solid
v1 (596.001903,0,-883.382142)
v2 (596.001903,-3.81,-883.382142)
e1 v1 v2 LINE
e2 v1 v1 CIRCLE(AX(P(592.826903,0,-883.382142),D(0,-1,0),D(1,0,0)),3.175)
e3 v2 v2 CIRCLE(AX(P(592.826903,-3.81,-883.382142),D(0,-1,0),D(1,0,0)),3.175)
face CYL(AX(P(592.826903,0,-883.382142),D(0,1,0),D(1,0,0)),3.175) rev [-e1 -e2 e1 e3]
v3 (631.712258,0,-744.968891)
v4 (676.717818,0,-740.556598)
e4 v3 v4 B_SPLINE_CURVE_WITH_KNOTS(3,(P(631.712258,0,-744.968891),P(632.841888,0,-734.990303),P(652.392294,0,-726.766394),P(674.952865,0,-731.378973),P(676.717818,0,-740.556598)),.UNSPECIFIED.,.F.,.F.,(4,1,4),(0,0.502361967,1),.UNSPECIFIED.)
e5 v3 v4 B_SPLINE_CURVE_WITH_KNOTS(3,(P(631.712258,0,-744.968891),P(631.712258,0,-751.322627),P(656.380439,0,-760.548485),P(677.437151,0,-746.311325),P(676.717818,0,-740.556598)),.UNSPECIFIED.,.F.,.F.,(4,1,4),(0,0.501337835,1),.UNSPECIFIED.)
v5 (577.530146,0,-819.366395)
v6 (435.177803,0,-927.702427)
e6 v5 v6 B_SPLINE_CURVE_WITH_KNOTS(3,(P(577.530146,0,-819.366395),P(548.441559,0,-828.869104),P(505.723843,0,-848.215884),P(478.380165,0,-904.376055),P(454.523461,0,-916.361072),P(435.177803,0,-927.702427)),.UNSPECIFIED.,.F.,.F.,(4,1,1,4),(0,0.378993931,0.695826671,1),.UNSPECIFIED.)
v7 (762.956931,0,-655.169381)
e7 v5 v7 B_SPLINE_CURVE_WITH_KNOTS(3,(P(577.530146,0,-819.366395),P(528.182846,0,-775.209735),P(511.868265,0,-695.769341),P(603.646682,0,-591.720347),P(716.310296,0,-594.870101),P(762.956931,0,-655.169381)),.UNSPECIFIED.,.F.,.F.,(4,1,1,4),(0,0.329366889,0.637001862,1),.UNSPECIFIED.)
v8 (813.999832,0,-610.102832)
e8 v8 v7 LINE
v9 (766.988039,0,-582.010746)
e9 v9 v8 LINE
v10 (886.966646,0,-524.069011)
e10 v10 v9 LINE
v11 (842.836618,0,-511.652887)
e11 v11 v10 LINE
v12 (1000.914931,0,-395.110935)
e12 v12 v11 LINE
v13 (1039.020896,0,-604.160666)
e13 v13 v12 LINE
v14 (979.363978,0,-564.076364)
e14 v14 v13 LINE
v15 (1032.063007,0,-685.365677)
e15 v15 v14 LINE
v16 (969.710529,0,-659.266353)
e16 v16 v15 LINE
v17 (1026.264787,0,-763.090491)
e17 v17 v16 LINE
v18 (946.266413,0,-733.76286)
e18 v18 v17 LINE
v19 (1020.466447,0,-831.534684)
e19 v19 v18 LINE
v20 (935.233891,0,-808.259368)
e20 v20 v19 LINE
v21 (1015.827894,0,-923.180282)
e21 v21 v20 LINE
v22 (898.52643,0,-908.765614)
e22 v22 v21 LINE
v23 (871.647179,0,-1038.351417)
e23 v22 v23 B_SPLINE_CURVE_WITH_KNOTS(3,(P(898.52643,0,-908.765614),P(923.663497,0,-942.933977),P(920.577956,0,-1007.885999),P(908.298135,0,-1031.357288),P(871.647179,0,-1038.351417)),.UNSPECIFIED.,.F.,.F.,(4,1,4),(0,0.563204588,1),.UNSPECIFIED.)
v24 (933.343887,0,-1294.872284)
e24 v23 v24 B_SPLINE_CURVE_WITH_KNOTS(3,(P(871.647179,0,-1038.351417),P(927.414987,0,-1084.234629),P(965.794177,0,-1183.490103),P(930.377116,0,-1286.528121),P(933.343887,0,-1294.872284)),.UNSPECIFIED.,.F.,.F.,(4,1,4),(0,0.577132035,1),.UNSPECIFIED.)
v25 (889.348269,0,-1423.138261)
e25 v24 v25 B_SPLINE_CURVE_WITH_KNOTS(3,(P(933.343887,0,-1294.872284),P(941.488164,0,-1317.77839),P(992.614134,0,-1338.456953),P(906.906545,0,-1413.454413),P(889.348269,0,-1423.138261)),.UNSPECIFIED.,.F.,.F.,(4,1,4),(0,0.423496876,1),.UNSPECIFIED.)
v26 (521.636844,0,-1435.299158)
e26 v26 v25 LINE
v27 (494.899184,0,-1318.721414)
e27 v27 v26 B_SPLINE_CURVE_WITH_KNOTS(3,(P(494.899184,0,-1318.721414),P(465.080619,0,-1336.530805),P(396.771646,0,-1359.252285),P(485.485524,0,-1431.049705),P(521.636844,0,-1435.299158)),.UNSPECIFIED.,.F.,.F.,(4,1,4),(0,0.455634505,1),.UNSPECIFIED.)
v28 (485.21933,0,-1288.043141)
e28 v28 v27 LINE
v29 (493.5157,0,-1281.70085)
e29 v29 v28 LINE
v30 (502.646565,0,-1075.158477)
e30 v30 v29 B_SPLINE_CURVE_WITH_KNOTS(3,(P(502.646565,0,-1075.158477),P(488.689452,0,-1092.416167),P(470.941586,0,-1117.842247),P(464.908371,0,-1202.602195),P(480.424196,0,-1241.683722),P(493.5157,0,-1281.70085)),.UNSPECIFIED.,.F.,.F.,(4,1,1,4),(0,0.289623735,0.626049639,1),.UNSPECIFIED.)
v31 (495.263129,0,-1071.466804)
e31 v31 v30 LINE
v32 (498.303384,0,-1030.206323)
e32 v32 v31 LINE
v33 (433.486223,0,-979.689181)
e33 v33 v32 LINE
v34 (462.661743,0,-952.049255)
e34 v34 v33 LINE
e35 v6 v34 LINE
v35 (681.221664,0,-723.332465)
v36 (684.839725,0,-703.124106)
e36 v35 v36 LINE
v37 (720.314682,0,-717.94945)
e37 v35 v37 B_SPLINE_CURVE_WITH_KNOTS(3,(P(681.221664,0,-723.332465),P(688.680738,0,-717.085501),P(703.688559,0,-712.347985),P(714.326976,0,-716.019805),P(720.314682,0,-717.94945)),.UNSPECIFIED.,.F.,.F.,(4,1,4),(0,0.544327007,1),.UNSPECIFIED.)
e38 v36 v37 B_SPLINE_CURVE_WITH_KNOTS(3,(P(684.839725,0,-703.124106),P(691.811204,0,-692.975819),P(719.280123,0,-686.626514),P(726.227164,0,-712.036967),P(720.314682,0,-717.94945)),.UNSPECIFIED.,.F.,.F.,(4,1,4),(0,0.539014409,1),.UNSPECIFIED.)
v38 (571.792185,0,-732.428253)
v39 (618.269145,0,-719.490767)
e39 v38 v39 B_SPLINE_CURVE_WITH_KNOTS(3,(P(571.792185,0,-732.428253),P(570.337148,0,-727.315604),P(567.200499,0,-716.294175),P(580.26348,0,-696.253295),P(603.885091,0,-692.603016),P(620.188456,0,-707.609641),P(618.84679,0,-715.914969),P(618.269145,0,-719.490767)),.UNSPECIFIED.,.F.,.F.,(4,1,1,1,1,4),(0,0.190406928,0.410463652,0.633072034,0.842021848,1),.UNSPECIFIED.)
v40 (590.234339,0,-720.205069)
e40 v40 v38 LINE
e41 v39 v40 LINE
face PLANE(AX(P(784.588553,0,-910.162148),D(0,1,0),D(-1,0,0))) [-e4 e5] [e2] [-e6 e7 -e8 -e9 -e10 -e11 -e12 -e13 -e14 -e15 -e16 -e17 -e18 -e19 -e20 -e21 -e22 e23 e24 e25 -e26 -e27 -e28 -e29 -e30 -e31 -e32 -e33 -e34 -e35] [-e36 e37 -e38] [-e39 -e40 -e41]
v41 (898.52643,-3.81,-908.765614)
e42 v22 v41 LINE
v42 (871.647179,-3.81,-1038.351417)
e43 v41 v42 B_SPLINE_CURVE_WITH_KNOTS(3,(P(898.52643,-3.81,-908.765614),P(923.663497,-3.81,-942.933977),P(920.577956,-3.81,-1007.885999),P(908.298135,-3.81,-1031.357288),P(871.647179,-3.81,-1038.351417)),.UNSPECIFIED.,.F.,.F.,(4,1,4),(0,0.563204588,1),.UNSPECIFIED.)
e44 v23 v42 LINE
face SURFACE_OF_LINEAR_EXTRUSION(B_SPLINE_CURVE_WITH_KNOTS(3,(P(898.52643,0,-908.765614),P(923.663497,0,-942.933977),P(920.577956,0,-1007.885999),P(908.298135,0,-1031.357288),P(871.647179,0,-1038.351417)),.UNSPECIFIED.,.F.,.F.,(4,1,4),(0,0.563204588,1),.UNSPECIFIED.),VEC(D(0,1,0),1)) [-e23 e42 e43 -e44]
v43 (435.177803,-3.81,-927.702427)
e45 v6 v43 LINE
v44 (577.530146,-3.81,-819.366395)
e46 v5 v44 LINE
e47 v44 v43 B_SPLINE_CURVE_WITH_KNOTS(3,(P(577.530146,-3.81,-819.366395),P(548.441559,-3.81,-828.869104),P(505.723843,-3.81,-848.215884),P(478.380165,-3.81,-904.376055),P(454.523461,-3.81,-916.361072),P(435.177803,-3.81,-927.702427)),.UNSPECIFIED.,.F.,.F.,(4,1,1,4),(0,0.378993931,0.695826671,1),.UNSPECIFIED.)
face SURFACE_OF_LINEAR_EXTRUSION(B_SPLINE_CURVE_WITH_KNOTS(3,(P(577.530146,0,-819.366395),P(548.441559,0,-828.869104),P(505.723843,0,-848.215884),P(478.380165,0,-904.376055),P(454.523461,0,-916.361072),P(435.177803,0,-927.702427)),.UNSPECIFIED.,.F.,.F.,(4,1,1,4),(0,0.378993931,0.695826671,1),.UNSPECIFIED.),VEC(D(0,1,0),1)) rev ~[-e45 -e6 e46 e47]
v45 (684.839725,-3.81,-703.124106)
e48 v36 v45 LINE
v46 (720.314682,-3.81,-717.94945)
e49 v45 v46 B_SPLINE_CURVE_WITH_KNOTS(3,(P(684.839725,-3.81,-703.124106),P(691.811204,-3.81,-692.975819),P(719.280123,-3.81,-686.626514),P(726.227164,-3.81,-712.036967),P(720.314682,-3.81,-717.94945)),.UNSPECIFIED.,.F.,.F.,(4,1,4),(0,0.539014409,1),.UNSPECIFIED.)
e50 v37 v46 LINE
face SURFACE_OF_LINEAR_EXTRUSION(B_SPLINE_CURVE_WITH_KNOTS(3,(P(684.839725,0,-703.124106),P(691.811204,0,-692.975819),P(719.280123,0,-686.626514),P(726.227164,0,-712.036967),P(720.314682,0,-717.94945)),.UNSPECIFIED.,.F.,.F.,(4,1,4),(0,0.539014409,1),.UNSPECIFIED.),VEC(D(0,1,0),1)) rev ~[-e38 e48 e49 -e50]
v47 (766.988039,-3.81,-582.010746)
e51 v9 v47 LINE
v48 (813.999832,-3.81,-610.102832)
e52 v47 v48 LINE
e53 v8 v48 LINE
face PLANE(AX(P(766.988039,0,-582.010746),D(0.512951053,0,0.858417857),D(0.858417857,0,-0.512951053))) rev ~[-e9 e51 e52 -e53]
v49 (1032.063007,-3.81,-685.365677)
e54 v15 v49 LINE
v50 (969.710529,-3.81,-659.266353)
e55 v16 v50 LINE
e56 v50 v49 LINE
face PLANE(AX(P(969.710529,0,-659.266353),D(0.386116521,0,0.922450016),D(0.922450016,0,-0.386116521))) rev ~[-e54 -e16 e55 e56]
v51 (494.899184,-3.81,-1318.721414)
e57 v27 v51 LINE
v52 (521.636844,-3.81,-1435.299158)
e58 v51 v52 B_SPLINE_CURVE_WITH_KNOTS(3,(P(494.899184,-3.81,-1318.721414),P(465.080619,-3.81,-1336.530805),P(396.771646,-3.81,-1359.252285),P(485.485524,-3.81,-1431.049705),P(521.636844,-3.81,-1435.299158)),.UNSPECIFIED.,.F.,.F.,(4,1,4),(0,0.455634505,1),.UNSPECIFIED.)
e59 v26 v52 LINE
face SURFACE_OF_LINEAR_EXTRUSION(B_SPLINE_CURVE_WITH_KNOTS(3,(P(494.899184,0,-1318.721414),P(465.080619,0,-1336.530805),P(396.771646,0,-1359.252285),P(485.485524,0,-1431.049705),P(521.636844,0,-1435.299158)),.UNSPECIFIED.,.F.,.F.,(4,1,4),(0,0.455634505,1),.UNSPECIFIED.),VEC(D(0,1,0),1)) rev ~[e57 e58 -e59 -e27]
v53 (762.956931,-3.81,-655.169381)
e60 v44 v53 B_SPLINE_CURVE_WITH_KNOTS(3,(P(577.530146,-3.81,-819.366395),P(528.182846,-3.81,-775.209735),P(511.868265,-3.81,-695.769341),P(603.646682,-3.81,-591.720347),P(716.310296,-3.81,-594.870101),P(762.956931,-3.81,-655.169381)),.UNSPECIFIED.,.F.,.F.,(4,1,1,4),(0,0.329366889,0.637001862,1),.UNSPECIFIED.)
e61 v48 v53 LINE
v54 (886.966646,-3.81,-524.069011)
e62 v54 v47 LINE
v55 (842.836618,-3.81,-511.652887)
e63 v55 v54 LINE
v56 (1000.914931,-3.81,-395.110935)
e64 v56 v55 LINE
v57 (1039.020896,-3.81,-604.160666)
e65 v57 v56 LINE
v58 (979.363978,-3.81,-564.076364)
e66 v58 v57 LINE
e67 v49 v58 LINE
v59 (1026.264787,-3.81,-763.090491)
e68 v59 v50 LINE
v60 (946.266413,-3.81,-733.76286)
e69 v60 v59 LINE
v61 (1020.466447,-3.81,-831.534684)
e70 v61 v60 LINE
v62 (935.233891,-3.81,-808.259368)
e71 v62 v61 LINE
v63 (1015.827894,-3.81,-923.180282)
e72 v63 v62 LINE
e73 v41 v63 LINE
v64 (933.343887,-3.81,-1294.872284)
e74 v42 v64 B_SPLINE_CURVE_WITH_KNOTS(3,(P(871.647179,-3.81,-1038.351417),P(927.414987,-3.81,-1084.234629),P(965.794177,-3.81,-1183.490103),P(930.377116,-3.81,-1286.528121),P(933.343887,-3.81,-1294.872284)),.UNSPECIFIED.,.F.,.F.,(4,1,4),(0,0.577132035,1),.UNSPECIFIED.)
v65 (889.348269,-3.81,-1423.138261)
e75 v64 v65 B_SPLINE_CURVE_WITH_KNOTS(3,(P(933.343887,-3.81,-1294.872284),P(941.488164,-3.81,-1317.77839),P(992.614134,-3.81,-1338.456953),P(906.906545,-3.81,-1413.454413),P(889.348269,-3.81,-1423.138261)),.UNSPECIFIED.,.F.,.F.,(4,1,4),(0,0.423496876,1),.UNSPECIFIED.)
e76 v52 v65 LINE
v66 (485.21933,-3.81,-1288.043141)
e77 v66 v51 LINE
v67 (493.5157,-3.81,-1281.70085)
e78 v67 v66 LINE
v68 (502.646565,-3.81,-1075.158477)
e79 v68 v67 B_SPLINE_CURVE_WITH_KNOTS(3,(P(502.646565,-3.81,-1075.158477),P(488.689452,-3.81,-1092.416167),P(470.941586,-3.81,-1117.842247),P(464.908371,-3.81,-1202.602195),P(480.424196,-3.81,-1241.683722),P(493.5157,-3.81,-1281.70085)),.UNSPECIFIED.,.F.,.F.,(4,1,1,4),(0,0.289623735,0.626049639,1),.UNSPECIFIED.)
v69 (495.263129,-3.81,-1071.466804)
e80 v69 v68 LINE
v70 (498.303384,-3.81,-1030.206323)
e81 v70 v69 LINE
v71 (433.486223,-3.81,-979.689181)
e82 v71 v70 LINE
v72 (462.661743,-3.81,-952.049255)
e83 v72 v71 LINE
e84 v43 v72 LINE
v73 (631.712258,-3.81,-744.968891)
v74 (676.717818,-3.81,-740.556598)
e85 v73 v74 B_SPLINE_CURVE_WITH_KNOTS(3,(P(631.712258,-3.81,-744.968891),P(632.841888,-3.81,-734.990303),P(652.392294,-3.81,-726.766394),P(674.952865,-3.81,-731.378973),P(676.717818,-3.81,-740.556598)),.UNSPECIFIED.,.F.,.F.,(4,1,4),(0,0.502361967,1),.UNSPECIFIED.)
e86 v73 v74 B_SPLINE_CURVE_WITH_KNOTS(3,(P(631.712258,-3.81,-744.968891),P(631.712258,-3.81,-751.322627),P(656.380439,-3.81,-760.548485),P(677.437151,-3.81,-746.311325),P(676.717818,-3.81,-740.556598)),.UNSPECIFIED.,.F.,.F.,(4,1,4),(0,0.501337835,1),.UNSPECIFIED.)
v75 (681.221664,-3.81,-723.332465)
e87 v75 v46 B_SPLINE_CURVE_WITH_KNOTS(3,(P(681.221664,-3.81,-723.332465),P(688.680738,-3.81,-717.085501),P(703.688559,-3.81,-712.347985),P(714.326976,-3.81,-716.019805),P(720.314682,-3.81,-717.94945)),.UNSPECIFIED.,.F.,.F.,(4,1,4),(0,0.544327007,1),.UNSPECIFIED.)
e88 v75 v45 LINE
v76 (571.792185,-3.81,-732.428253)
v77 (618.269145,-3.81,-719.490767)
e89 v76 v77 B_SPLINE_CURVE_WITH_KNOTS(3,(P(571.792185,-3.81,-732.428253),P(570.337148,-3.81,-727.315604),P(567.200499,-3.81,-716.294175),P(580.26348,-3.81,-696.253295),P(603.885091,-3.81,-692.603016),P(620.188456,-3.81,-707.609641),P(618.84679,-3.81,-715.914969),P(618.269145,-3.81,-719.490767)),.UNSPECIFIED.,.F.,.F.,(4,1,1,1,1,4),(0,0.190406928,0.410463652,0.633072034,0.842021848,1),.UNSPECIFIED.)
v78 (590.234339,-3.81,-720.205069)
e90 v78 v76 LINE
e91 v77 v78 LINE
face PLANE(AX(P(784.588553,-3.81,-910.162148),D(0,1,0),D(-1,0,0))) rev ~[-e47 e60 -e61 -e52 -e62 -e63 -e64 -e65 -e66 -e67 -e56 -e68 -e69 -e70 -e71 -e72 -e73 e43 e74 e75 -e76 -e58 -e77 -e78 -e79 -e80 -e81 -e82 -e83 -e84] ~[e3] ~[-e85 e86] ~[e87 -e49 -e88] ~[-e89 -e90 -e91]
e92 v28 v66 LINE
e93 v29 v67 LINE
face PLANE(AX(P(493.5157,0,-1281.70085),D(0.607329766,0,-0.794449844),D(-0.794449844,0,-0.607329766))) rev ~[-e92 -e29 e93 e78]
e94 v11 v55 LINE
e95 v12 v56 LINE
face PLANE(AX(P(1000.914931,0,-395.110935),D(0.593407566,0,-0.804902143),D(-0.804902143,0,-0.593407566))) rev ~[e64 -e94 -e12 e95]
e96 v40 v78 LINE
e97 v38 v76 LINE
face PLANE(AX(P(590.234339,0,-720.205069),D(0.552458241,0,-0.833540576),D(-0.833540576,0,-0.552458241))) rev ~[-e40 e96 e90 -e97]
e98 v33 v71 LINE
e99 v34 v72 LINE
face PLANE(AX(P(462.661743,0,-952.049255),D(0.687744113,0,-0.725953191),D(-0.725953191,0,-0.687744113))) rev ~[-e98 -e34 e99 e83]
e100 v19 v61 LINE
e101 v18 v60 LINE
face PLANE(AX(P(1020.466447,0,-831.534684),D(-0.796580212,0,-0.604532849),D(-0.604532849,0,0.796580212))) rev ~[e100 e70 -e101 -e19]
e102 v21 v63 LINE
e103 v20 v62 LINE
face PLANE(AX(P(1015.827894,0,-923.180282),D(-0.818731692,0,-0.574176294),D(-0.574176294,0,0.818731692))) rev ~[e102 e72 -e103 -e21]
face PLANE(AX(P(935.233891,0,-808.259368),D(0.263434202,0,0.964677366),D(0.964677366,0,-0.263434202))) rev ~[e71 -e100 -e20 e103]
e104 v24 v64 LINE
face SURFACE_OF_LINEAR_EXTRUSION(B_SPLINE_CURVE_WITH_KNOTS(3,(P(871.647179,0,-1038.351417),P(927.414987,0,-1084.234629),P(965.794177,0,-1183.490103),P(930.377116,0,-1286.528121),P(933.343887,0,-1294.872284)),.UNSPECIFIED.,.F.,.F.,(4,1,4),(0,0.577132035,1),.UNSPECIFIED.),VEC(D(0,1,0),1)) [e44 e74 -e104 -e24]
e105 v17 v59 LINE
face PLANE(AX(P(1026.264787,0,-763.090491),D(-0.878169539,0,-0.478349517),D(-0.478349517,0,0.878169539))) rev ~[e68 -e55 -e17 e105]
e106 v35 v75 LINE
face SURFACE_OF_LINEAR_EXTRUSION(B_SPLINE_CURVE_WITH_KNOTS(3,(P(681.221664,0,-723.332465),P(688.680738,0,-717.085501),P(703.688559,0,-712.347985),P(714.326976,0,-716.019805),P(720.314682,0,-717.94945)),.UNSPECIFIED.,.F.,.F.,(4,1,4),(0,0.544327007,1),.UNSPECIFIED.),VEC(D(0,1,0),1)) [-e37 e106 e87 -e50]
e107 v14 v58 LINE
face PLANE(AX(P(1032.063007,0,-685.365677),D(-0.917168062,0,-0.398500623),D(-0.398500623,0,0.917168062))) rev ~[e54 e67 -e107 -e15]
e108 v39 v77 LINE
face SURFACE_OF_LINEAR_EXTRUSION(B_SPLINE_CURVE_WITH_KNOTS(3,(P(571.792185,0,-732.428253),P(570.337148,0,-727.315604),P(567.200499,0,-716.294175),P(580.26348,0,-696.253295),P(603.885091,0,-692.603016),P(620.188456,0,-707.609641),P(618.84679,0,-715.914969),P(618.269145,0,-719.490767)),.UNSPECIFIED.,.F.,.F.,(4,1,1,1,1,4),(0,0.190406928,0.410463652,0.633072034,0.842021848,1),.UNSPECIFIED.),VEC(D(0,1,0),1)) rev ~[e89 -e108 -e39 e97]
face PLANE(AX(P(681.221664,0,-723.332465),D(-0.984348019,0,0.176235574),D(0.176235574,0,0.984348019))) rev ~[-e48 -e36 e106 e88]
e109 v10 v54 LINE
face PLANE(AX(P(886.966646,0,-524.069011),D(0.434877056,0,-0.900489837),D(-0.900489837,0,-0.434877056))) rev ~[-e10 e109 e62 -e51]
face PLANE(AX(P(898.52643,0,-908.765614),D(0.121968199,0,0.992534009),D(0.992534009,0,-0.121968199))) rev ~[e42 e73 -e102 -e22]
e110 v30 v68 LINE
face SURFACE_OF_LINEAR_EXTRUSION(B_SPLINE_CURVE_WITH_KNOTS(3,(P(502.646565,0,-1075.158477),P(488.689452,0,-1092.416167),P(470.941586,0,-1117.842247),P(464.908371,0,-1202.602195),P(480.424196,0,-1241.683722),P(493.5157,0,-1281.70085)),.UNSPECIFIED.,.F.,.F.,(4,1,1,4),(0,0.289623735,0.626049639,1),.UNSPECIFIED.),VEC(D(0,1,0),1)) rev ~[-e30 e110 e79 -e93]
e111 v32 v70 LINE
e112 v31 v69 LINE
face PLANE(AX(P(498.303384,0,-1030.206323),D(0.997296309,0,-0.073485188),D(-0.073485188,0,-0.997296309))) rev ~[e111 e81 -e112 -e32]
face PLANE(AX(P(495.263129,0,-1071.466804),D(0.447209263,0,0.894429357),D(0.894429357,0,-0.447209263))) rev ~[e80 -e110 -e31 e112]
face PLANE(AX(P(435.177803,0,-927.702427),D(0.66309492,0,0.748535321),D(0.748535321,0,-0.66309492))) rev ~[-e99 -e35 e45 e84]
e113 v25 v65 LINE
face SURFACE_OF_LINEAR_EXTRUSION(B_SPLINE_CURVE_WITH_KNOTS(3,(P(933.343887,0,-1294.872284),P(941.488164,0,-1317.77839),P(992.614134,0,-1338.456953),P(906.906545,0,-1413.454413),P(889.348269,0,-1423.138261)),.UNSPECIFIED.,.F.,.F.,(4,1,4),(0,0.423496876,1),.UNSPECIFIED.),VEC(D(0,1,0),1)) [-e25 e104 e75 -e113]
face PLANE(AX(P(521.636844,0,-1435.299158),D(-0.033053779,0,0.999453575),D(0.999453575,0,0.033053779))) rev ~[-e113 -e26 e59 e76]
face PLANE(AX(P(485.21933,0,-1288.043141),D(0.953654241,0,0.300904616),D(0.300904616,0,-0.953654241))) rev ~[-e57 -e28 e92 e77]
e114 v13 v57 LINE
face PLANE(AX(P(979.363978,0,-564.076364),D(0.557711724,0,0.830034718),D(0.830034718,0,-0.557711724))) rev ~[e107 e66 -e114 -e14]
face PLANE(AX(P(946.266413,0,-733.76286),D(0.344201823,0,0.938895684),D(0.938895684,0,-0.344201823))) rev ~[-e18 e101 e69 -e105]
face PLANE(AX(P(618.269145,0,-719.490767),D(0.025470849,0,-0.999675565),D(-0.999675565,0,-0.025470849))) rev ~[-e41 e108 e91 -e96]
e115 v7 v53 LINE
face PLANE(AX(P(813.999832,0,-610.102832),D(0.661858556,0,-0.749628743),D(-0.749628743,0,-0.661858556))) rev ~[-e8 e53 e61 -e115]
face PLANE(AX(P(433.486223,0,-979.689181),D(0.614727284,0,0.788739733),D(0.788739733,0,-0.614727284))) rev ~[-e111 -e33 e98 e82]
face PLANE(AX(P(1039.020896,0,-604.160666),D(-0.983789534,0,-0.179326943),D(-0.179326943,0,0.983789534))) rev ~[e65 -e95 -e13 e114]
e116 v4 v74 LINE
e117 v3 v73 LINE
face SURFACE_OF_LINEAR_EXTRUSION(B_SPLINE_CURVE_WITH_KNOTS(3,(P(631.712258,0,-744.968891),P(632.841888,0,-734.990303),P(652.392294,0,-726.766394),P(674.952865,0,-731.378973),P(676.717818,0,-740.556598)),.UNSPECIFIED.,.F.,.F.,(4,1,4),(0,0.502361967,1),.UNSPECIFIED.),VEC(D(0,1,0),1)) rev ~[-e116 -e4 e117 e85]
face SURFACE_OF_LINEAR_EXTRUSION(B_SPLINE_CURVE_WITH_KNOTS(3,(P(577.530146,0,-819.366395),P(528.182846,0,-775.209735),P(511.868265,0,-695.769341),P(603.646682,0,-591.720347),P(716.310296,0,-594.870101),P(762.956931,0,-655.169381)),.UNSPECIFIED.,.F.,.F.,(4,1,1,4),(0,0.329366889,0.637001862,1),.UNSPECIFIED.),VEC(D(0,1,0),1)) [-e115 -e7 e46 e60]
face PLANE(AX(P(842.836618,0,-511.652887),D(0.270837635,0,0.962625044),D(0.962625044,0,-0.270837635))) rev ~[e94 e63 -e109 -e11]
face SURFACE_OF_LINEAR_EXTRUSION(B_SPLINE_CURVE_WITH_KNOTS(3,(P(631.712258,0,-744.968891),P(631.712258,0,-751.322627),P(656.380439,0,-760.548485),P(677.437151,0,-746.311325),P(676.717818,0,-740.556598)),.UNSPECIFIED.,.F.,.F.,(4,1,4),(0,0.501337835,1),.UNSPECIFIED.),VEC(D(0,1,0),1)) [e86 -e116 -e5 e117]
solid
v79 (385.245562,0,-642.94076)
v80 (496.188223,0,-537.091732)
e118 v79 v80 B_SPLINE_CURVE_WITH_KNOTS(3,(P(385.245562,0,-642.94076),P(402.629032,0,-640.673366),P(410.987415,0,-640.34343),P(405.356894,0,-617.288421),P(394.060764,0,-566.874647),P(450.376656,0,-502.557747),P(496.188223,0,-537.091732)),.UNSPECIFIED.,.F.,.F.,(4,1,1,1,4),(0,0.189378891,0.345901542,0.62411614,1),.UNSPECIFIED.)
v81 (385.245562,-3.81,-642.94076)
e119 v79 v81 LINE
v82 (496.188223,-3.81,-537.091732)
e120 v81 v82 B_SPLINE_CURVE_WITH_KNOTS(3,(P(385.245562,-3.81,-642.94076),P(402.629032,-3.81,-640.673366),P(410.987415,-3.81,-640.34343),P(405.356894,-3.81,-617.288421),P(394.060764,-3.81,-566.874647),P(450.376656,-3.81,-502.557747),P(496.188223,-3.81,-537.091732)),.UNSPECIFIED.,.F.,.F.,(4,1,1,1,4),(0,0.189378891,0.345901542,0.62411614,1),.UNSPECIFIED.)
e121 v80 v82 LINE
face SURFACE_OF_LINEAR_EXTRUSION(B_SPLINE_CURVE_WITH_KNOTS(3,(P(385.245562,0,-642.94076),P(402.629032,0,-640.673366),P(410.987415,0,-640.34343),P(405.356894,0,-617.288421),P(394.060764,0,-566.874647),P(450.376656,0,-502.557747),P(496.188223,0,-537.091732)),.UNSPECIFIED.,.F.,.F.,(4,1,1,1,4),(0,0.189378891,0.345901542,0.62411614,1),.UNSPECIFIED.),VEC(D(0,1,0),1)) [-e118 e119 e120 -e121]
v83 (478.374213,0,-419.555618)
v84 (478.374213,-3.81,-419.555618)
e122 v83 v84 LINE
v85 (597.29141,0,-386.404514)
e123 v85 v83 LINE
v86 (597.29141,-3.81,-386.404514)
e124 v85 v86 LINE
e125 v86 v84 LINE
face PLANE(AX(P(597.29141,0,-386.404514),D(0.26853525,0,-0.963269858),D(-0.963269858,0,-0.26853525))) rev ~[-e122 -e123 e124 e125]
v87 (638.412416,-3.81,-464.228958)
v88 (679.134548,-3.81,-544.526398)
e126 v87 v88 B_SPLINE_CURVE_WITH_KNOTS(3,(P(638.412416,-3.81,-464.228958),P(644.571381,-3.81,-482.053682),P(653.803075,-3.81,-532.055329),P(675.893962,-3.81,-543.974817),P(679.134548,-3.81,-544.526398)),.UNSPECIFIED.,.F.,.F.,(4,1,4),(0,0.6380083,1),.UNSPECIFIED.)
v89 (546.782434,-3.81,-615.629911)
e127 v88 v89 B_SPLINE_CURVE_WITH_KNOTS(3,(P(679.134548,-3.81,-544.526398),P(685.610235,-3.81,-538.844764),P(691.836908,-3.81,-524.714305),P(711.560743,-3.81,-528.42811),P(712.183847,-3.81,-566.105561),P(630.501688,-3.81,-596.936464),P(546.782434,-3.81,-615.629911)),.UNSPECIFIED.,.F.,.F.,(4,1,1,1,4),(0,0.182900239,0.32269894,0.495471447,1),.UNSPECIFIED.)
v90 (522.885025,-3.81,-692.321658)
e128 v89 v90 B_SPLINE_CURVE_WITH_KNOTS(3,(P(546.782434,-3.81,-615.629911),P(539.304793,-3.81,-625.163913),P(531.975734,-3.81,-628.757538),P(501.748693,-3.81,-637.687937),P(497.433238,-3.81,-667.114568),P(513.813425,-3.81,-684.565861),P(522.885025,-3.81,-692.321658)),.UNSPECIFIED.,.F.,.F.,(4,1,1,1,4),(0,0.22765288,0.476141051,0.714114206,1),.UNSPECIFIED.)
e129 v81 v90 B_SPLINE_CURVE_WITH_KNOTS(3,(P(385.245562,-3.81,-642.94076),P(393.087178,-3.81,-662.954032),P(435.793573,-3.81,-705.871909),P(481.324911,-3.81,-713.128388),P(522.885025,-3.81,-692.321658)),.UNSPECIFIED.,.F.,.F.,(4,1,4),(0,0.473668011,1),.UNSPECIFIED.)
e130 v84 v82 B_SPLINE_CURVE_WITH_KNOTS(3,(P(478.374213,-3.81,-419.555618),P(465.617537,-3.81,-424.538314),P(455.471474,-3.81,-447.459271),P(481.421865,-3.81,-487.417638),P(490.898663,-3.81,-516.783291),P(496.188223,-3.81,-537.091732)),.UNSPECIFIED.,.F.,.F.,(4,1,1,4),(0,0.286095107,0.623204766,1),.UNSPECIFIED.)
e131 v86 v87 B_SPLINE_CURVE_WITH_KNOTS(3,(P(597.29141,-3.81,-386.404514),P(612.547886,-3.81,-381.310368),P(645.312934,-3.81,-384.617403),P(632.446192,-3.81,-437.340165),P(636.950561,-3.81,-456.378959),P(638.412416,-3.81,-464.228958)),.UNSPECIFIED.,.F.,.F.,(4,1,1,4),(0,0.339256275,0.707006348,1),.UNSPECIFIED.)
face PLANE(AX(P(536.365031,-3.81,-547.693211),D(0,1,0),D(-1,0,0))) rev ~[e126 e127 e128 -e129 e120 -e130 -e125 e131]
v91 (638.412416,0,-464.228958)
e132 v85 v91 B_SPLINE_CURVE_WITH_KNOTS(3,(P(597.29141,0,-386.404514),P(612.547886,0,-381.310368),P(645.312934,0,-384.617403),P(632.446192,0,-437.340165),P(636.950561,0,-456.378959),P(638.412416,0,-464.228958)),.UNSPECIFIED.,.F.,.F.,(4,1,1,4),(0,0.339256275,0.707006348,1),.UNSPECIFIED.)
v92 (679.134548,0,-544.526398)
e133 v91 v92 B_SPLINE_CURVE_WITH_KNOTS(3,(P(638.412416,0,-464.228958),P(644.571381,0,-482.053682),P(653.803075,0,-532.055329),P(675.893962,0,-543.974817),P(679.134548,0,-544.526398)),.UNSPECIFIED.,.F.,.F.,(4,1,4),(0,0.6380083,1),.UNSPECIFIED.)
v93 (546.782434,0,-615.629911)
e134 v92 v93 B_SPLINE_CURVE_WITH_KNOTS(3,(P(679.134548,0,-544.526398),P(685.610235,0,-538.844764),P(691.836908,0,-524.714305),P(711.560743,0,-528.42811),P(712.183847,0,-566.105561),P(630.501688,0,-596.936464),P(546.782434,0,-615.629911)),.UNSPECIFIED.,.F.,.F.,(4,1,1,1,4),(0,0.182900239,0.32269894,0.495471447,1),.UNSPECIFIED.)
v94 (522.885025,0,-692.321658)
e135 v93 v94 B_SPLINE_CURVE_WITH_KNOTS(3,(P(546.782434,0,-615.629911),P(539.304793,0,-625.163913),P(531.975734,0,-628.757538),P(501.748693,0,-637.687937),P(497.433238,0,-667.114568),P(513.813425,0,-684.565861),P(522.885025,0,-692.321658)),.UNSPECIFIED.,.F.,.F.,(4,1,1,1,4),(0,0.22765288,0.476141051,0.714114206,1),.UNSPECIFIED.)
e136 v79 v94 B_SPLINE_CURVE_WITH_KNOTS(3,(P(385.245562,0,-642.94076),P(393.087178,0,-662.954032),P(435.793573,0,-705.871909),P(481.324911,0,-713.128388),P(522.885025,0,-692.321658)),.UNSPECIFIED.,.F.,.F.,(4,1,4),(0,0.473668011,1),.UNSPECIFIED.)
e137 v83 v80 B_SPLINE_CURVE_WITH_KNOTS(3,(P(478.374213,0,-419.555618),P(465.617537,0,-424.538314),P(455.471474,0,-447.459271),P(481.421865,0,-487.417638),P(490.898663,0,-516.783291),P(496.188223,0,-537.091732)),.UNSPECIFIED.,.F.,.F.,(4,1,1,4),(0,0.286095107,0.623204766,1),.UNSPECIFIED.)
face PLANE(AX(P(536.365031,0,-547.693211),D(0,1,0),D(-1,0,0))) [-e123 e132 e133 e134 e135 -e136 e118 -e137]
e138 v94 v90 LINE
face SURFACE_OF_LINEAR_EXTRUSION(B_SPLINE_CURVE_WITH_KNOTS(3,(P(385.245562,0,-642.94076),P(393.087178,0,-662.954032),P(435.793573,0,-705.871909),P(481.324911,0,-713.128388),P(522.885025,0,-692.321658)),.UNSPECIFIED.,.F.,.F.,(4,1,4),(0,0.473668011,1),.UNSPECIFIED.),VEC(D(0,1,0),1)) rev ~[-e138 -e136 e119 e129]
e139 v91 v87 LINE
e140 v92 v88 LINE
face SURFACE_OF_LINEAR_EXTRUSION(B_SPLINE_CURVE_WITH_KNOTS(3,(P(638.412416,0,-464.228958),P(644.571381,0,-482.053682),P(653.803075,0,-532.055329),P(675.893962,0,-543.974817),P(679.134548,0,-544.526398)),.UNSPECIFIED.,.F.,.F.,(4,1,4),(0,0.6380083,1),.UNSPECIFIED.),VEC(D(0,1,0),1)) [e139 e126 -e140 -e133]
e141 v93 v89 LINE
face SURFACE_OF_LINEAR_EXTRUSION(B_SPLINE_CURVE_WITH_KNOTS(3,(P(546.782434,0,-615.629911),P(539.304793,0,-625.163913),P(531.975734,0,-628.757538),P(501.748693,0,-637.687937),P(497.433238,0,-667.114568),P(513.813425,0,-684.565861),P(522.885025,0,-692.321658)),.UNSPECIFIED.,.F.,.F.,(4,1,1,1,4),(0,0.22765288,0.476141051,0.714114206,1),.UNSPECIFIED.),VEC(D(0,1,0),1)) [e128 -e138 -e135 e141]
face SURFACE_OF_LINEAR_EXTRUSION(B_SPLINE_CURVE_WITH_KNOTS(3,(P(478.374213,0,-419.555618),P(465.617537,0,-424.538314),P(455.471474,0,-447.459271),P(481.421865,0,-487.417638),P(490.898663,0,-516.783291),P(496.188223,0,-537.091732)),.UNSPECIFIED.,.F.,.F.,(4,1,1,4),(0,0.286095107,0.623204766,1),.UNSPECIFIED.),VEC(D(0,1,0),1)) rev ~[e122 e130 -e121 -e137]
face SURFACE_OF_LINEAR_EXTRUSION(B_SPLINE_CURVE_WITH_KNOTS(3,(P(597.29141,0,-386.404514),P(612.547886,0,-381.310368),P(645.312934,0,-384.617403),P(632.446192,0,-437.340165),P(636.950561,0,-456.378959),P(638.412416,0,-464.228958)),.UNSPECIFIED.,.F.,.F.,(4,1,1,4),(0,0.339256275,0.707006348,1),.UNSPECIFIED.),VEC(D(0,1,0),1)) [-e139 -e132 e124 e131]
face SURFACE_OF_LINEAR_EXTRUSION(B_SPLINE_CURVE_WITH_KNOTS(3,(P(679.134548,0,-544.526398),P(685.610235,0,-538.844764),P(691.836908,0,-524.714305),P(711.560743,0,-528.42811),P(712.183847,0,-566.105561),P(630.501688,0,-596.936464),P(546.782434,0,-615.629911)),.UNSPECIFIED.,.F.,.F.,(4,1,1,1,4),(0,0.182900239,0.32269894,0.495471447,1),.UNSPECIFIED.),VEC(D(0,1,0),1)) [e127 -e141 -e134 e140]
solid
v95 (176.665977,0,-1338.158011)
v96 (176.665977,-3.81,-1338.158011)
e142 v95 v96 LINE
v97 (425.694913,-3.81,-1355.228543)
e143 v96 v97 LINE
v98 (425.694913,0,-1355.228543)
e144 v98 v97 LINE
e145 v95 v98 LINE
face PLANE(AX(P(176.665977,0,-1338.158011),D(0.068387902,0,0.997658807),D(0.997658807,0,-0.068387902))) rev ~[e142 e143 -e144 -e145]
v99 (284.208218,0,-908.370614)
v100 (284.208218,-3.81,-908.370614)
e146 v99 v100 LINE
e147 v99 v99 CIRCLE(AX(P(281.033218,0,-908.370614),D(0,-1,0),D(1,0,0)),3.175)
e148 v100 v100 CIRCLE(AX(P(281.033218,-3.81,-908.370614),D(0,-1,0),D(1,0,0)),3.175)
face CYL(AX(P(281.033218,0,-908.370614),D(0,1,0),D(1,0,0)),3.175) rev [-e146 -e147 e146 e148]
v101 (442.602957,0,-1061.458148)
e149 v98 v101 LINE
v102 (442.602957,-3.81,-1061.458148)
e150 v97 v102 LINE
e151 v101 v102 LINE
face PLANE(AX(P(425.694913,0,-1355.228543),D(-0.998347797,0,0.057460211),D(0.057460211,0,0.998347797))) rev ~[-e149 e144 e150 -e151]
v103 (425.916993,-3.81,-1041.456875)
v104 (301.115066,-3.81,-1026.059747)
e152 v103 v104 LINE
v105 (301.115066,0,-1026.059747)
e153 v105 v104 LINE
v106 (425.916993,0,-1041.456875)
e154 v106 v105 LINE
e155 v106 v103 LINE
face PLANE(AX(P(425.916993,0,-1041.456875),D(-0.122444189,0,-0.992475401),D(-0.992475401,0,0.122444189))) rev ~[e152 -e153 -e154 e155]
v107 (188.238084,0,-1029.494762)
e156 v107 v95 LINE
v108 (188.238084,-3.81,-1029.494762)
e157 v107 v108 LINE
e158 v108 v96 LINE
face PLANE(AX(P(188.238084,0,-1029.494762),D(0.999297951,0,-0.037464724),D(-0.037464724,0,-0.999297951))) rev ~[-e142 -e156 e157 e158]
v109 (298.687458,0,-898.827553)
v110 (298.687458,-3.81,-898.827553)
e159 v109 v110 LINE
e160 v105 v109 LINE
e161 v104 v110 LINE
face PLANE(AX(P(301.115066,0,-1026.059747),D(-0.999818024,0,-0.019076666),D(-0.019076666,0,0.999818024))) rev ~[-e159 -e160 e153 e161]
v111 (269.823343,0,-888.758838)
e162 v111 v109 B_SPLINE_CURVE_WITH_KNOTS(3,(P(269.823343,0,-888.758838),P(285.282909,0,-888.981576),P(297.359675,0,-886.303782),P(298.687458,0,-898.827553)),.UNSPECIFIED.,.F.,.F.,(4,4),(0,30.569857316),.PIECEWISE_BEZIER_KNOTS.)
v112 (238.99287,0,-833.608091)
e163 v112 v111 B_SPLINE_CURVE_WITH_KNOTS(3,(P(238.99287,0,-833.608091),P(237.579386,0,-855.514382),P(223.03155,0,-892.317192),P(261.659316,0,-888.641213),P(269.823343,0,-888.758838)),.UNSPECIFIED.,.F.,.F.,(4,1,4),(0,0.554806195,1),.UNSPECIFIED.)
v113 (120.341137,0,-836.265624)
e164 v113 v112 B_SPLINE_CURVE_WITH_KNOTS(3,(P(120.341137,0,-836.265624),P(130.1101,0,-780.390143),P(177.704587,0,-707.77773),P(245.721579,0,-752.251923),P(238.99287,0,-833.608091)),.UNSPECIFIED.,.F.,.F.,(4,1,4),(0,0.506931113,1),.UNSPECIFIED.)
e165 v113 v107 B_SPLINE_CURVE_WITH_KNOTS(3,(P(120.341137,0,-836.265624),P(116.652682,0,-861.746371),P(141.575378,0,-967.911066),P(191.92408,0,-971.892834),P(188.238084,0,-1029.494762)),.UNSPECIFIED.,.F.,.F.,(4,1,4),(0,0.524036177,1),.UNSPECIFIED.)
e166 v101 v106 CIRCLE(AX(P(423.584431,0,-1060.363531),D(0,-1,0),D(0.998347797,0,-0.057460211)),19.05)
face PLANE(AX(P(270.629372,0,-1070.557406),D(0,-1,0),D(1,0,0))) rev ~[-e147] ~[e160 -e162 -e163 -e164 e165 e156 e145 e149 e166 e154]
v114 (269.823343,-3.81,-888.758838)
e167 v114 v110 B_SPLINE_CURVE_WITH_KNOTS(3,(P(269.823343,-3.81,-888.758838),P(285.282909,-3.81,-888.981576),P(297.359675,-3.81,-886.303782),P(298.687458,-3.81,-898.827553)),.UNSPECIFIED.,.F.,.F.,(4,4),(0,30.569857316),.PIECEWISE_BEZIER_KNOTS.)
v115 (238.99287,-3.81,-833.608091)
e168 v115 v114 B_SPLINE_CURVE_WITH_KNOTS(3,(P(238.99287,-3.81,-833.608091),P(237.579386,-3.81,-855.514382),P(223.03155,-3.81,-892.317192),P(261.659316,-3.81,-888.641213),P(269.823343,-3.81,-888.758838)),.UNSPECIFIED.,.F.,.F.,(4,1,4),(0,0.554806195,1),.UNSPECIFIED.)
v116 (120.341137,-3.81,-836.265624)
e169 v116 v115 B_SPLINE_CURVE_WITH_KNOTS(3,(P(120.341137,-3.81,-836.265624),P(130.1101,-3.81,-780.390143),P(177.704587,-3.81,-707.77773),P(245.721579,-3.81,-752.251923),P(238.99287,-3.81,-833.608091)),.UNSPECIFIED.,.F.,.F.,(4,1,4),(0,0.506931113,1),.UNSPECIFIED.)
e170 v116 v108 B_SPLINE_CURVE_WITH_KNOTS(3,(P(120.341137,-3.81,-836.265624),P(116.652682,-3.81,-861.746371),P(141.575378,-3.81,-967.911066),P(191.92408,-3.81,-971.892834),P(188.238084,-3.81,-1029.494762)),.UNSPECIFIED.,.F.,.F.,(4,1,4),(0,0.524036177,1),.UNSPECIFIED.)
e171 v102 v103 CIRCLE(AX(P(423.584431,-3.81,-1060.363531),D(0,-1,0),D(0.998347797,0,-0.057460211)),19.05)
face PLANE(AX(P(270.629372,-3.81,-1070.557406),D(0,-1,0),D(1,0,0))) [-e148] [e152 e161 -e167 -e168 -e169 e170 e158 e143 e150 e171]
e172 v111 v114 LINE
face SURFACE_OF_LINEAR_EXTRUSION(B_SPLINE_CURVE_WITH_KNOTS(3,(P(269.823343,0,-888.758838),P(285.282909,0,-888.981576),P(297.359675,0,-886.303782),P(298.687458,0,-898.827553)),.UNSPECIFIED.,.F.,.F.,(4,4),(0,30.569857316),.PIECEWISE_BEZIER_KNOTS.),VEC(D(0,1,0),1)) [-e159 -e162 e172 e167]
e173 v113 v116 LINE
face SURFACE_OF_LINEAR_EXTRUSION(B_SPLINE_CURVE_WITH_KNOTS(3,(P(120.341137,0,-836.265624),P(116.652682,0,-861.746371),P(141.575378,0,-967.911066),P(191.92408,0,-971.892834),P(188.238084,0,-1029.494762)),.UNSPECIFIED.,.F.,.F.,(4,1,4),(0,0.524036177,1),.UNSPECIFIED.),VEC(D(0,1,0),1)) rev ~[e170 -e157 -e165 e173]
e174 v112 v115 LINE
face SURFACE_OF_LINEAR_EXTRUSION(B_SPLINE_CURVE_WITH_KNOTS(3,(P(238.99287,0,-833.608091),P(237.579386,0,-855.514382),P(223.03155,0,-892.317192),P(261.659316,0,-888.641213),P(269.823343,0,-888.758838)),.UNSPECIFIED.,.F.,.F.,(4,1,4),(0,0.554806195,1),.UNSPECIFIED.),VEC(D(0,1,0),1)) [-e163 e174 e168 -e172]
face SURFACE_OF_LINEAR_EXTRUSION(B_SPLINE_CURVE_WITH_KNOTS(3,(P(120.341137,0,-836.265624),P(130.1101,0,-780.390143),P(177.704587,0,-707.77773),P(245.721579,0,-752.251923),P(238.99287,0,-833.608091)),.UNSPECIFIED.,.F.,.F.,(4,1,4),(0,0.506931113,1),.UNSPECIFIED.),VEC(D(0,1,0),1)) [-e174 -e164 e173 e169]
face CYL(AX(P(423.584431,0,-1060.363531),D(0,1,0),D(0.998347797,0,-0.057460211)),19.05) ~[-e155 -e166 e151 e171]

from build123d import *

# Parameters (mm, degrees)
F0_R     = 3.175
F1_DEPTH = 3.81
F2_DEPTH = 3.81
F3_DEPTH = 3.81


with BuildPart() as f1:
    # F0 (on Front) → F1 (new body)
    with BuildSketch(Plane.XZ):
        with BuildLine():
            add(Edge.make_bspline(
                [(577.5301456451, -819.3663954735), (528.1828455236, -775.2097354619), (511.8682646711, -695.7693412774), (603.6466815031, -591.7203471431), (716.3102957828, -594.8701009791), (762.9569310114, -655.1693814075)],
                knots=[0, 0, 0, 0, 0.3293668885, 0.637001862, 1, 1, 1, 1], degree=3))
            add(Edge.make_bspline(
                [(577.5301456451, -819.3663954735), (548.4415590763, -828.8691043854), (505.7238427203, -848.2158835695), (478.3801648961, -904.3760548657), (454.5234614416, -916.3610723098), (435.1778030396, -927.7024269104)],
                knots=[0, 0, 0, 0, 0.3789939307, 0.6958266706, 1, 1, 1, 1], degree=3))
            Line((435.1778030396, -927.7024269104), (462.6617431641, -952.0492553711))
            Line((462.6617431641, -952.0492553711), (433.4862232208, -979.689180851))
            Line((433.4862232208, -979.689180851), (498.3033835888, -1030.20632267))
            Line((498.3033835888, -1030.20632267), (495.2631294727, -1071.4668035507))
            Line((495.2631294727, -1071.4668035507), (502.6465654373, -1075.1584768295))
            add(Edge.make_bspline(
                [(502.6465654373, -1075.1584768295), (488.6894524097, -1092.4161672592), (470.9415864608, -1117.8422471962), (464.9083709305, -1202.6021949076), (480.424195528, -1241.6837215424), (493.5157001019, -1281.7008495331)],
                knots=[0, 0, 0, 0, 0.2896237354, 0.6260496393, 1, 1, 1, 1], degree=3))
            Line((493.5157001019, -1281.7008495331), (485.2193295956, -1288.0431413651))
            Line((485.2193295956, -1288.0431413651), (494.8991835117, -1318.7214136124))
            add(Edge.make_bspline(
                [(494.8991835117, -1318.7214136124), (465.0806188583, -1336.5308046341), (396.7716459328, -1359.252285007), (485.4855239391, -1431.0497045517), (521.6368436813, -1435.2991580963)],
                knots=[0, 0, 0, 0, 0.4556345052, 1, 1, 1, 1], degree=3))
            Line((521.6368436813, -1435.2991580963), (889.3482685089, -1423.1382608414))
            add(Edge.make_bspline(
                [(933.3438873291, -1294.8722839355), (941.4881642767, -1317.7783897819), (992.6141344167, -1338.4569526546), (906.9065451622, -1413.454413414), (889.3482685089, -1423.1382608414)],
                knots=[0, 0, 0, 0, 0.4234968758, 1, 1, 1, 1], degree=3))
            add(Edge.make_bspline(
                [(871.6471791267, -1038.3514165878), (927.4149873158, -1084.2346286341), (965.7941767446, -1183.490102748), (930.3771163262, -1286.5281213963), (933.3438873291, -1294.8722839355)],
                knots=[0, 0, 0, 0, 0.5771320349, 1, 1, 1, 1], degree=3))
            add(Edge.make_bspline(
                [(898.52643013, -908.7656140327), (923.6634969711, -942.9339766502), (920.5779555974, -1007.8859988599), (908.2981348038, -1031.3572883606), (871.6471791267, -1038.3514165878)],
                knots=[0, 0, 0, 0, 0.5632045881, 1, 1, 1, 1], degree=3))
            Line((898.52643013, -908.7656140327), (1015.8278942108, -923.1802821159))
            Line((1015.8278942108, -923.1802821159), (935.2338910103, -808.2593679428))
            Line((935.2338910103, -808.2593679428), (1020.4664468765, -831.5346837044))
            Line((1020.4664468765, -831.5346837044), (946.266412735, -733.7628602982))
            Line((946.266412735, -733.7628602982), (1026.2647867203, -763.0904912949))
            Line((1026.2647867203, -763.0904912949), (969.7105288506, -659.2663526535))
            Line((969.7105288506, -659.2663526535), (1032.0630073547, -685.3656768799))
            Line((1032.0630073547, -685.3656768799), (979.3639779091, -564.0763640404))
            Line((979.3639779091, -564.0763640404), (1039.0208959579, -604.1606664658))
            Line((1039.0208959579, -604.1606664658), (1000.9149312973, -395.1109349728))
            Line((1000.9149312973, -395.1109349728), (842.8366184235, -511.6528868675))
            Line((842.8366184235, -511.6528868675), (886.9666457176, -524.0690112114))
            Line((886.9666457176, -524.0690112114), (766.9880390167, -582.0107460022))
            Line((766.9880390167, -582.0107460022), (813.9998316765, -610.1028323174))
            Line((813.9998316765, -610.1028323174), (762.9569310114, -655.1693814075))
        make_face()
        with Locations((592.8269028664, -883.3821415901)):
            Circle(F0_R, mode=Mode.SUBTRACT)
        with BuildLine():
            Line((590.2343392372, -720.2050685883), (571.7921853065, -732.428252697))
            add(Edge.make_bspline(
                [(571.7921853065, -732.428252697), (570.3371483959, -727.3156040261), (567.2004990612, -716.2941749928), (580.2634803929, -696.2532951535), (603.8850913859, -692.6030162823), (620.1884561261, -707.6096414004), (618.8467900169, -715.9149686406), (618.2691454887, -719.4907665253)],
                knots=[0, 0, 0, 0, 0.1904069281, 0.410463652, 0.6330720336, 0.8420218484, 1, 1, 1, 1], degree=3))
            Line((618.2691454887, -719.4907665253), (590.2343392372, -720.2050685883))
        make_face(mode=Mode.SUBTRACT)
        with BuildLine():
            add(Edge.make_bspline(
                [(631.7122578621, -744.9688911438), (631.7122578621, -751.3226270676), (656.3804391973, -760.548485088), (677.4371511594, -746.3113254518), (676.7178177834, -740.5565977097)],
                knots=[0, 0, 0, 0, 0.5013378355, 1, 1, 1, 1], degree=3))
            add(Edge.make_bspline(
                [(631.7122578621, -744.9688911438), (632.841887737, -734.9903031643), (652.3922938692, -726.7663940261), (674.9528646469, -731.3789725304), (676.7178177834, -740.5565977097)],
                knots=[0, 0, 0, 0, 0.5023619674, 1, 1, 1, 1], degree=3))
        make_face(mode=Mode.SUBTRACT)
        with BuildLine():
            add(Edge.make_bspline(
                [(681.2216639519, -723.332464695), (688.6807384257, -717.0855008441), (703.6885591516, -712.3479853933), (714.3269764947, -716.0198047743), (720.31468153, -717.949450016)],
                knots=[0, 0, 0, 0, 0.544327007, 1, 1, 1, 1], degree=3))
            Line((681.2216639519, -723.332464695), (684.8397254944, -703.1241059303))
            add(Edge.make_bspline(
                [(684.8397254944, -703.1241059303), (691.8112039566, -692.9758191109), (719.2801227268, -686.6265137394), (726.2271642685, -712.0369672775), (720.31468153, -717.949450016)],
                knots=[0, 0, 0, 0, 0.5390144085, 1, 1, 1, 1], degree=3))
        make_face(mode=Mode.SUBTRACT)
    extrude(amount=F1_DEPTH)


with BuildPart() as f2:
    # F0 (on Front) → F2 (new body, through all)
    with BuildSketch(Plane.XZ):
        with BuildLine():
            Line((188.2380843163, -1029.4947624207), (176.6659766436, -1338.1580114365))
            Line((176.6659766436, -1338.1580114365), (425.694912672, -1355.2285432816))
            Line((425.694912672, -1355.2285432816), (442.6029569468, -1061.4581481235))
            ThreePointArc((442.6029569468, -1061.4581481235), (438.2124855151, -1048.1601490776), (425.9169932078, -1041.456874733))
            Line((425.9169932078, -1041.456874733), (301.1150658131, -1026.0597467422))
            Line((301.1150658131, -1026.0597467422), (298.6874580383, -898.8275527954))
            add(Edge.make_bspline(
                [(269.8233425617, -888.7588381767), (285.2829094871, -888.9815762485), (297.359675169, -886.3037824631), (298.6874580383, -898.8275527954)],
                knots=[0, 0, 0, 0, 30.569857316, 30.569857316, 30.569857316, 30.569857316], degree=3))
            add(Edge.make_bspline(
                [(238.992869854, -833.6080908775), (237.5793856275, -855.514381618), (223.0315504622, -892.3171920893), (261.6593160165, -888.6412126611), (269.8233425617, -888.7588381767)],
                knots=[0, 0, 0, 0, 0.5548061955, 1, 1, 1, 1], degree=3))
            add(Edge.make_bspline(
                [(120.3411370516, -836.2656235695), (130.1100999117, -780.3901433945), (177.704587178, -707.7777298713), (245.721578598, -752.2519230843), (238.992869854, -833.6080908775)],
                knots=[0, 0, 0, 0, 0.5069311132, 1, 1, 1, 1], degree=3))
            add(Edge.make_bspline(
                [(120.3411370516, -836.2656235695), (116.6526824236, -861.7463707924), (141.5753776599, -967.9110663), (191.9240802526, -971.8928337097), (188.2380843163, -1029.4947624207)],
                knots=[0, 0, 0, 0, 0.5240361773, 1, 1, 1, 1], degree=3))
        make_face()
        with Locations((281.033217907, -908.3706140518)):
            Circle(F0_R, mode=Mode.SUBTRACT)
    extrude(amount=F2_DEPTH)


with BuildPart() as f3:
    # F0 (on Front) → F3 (new body, through all)
    with BuildSketch(Plane.XZ):
        with BuildLine():
            add(Edge.make_bspline(
                [(679.1345477104, -544.5263981819), (685.6102347374, -538.8447642326), (691.8369083522, -524.7143048759), (711.5607431566, -528.4281101081), (712.1838470594, -566.1055607905), (630.5016875267, -596.9364643097), (546.7824339867, -615.6299114227)],
                knots=[0, 0, 0, 0, 0.1829002389, 0.3226989396, 0.495471447, 1, 1, 1, 1], degree=3))
            add(Edge.make_bspline(
                [(638.4124159813, -464.2289578915), (644.5713807562, -482.0536816239), (653.8030748365, -532.0553291078), (675.8939623833, -543.9748167992), (679.1345477104, -544.5263981819)],
                knots=[0, 0, 0, 0, 0.6380082999, 1, 1, 1, 1], degree=3))
            add(Edge.make_bspline(
                [(597.2914099693, -386.4045143127), (612.5478863529, -381.3103679297), (645.3129339724, -384.6174029742), (632.446192358, -437.3401651359), (636.9505614508, -456.3789591398), (638.4124159813, -464.2289578915)],
                knots=[0, 0, 0, 0, 0.3392562745, 0.7070063482, 1, 1, 1, 1], degree=3))
            Line((597.2914099693, -386.4045143127), (478.3742129803, -419.5556182318))
            add(Edge.make_bspline(
                [(478.3742129803, -419.5556182318), (465.6175374985, -424.5383143425), (455.4714743401, -447.4592706966), (481.4218654099, -487.4176378948), (490.8986630412, -516.7832910175), (496.188223362, -537.0917320251)],
                knots=[0, 0, 0, 0, 0.2860951067, 0.6232047662, 1, 1, 1, 1], degree=3))
            add(Edge.make_bspline(
                [(385.2455615997, -642.9407596588), (402.6290316883, -640.673366181), (410.9874153651, -640.3434295813), (405.3568941361, -617.2884205486), (394.0607638221, -566.874646932), (450.376656239, -502.5577473745), (496.188223362, -537.0917320251)],
                knots=[0, 0, 0, 0, 0.1893788908, 0.3459015416, 0.62411614, 1, 1, 1, 1], degree=3))
            add(Edge.make_bspline(
                [(385.2455615997, -642.9407596588), (393.0871784687, -662.9540324211), (435.7935732461, -705.871909198), (481.3249111176, -713.128387928), (522.8850245476, -692.3216581345)],
                knots=[0, 0, 0, 0, 0.473668011, 1, 1, 1, 1], degree=3))
            add(Edge.make_bspline(
                [(546.7824339867, -615.6299114227), (539.304792881, -625.1639127731), (531.9757341713, -628.7575376013), (501.7486927929, -637.6879373636), (497.4332380951, -667.1145675628), (513.8134245426, -684.5658607872), (522.8850245476, -692.3216581345)],
                knots=[0, 0, 0, 0, 0.2276528799, 0.4761410512, 0.7141142056, 1, 1, 1, 1], degree=3))
        make_face()
    extrude(amount=F3_DEPTH)


solid = Compound([f1.part, f2.part, f3.part])
